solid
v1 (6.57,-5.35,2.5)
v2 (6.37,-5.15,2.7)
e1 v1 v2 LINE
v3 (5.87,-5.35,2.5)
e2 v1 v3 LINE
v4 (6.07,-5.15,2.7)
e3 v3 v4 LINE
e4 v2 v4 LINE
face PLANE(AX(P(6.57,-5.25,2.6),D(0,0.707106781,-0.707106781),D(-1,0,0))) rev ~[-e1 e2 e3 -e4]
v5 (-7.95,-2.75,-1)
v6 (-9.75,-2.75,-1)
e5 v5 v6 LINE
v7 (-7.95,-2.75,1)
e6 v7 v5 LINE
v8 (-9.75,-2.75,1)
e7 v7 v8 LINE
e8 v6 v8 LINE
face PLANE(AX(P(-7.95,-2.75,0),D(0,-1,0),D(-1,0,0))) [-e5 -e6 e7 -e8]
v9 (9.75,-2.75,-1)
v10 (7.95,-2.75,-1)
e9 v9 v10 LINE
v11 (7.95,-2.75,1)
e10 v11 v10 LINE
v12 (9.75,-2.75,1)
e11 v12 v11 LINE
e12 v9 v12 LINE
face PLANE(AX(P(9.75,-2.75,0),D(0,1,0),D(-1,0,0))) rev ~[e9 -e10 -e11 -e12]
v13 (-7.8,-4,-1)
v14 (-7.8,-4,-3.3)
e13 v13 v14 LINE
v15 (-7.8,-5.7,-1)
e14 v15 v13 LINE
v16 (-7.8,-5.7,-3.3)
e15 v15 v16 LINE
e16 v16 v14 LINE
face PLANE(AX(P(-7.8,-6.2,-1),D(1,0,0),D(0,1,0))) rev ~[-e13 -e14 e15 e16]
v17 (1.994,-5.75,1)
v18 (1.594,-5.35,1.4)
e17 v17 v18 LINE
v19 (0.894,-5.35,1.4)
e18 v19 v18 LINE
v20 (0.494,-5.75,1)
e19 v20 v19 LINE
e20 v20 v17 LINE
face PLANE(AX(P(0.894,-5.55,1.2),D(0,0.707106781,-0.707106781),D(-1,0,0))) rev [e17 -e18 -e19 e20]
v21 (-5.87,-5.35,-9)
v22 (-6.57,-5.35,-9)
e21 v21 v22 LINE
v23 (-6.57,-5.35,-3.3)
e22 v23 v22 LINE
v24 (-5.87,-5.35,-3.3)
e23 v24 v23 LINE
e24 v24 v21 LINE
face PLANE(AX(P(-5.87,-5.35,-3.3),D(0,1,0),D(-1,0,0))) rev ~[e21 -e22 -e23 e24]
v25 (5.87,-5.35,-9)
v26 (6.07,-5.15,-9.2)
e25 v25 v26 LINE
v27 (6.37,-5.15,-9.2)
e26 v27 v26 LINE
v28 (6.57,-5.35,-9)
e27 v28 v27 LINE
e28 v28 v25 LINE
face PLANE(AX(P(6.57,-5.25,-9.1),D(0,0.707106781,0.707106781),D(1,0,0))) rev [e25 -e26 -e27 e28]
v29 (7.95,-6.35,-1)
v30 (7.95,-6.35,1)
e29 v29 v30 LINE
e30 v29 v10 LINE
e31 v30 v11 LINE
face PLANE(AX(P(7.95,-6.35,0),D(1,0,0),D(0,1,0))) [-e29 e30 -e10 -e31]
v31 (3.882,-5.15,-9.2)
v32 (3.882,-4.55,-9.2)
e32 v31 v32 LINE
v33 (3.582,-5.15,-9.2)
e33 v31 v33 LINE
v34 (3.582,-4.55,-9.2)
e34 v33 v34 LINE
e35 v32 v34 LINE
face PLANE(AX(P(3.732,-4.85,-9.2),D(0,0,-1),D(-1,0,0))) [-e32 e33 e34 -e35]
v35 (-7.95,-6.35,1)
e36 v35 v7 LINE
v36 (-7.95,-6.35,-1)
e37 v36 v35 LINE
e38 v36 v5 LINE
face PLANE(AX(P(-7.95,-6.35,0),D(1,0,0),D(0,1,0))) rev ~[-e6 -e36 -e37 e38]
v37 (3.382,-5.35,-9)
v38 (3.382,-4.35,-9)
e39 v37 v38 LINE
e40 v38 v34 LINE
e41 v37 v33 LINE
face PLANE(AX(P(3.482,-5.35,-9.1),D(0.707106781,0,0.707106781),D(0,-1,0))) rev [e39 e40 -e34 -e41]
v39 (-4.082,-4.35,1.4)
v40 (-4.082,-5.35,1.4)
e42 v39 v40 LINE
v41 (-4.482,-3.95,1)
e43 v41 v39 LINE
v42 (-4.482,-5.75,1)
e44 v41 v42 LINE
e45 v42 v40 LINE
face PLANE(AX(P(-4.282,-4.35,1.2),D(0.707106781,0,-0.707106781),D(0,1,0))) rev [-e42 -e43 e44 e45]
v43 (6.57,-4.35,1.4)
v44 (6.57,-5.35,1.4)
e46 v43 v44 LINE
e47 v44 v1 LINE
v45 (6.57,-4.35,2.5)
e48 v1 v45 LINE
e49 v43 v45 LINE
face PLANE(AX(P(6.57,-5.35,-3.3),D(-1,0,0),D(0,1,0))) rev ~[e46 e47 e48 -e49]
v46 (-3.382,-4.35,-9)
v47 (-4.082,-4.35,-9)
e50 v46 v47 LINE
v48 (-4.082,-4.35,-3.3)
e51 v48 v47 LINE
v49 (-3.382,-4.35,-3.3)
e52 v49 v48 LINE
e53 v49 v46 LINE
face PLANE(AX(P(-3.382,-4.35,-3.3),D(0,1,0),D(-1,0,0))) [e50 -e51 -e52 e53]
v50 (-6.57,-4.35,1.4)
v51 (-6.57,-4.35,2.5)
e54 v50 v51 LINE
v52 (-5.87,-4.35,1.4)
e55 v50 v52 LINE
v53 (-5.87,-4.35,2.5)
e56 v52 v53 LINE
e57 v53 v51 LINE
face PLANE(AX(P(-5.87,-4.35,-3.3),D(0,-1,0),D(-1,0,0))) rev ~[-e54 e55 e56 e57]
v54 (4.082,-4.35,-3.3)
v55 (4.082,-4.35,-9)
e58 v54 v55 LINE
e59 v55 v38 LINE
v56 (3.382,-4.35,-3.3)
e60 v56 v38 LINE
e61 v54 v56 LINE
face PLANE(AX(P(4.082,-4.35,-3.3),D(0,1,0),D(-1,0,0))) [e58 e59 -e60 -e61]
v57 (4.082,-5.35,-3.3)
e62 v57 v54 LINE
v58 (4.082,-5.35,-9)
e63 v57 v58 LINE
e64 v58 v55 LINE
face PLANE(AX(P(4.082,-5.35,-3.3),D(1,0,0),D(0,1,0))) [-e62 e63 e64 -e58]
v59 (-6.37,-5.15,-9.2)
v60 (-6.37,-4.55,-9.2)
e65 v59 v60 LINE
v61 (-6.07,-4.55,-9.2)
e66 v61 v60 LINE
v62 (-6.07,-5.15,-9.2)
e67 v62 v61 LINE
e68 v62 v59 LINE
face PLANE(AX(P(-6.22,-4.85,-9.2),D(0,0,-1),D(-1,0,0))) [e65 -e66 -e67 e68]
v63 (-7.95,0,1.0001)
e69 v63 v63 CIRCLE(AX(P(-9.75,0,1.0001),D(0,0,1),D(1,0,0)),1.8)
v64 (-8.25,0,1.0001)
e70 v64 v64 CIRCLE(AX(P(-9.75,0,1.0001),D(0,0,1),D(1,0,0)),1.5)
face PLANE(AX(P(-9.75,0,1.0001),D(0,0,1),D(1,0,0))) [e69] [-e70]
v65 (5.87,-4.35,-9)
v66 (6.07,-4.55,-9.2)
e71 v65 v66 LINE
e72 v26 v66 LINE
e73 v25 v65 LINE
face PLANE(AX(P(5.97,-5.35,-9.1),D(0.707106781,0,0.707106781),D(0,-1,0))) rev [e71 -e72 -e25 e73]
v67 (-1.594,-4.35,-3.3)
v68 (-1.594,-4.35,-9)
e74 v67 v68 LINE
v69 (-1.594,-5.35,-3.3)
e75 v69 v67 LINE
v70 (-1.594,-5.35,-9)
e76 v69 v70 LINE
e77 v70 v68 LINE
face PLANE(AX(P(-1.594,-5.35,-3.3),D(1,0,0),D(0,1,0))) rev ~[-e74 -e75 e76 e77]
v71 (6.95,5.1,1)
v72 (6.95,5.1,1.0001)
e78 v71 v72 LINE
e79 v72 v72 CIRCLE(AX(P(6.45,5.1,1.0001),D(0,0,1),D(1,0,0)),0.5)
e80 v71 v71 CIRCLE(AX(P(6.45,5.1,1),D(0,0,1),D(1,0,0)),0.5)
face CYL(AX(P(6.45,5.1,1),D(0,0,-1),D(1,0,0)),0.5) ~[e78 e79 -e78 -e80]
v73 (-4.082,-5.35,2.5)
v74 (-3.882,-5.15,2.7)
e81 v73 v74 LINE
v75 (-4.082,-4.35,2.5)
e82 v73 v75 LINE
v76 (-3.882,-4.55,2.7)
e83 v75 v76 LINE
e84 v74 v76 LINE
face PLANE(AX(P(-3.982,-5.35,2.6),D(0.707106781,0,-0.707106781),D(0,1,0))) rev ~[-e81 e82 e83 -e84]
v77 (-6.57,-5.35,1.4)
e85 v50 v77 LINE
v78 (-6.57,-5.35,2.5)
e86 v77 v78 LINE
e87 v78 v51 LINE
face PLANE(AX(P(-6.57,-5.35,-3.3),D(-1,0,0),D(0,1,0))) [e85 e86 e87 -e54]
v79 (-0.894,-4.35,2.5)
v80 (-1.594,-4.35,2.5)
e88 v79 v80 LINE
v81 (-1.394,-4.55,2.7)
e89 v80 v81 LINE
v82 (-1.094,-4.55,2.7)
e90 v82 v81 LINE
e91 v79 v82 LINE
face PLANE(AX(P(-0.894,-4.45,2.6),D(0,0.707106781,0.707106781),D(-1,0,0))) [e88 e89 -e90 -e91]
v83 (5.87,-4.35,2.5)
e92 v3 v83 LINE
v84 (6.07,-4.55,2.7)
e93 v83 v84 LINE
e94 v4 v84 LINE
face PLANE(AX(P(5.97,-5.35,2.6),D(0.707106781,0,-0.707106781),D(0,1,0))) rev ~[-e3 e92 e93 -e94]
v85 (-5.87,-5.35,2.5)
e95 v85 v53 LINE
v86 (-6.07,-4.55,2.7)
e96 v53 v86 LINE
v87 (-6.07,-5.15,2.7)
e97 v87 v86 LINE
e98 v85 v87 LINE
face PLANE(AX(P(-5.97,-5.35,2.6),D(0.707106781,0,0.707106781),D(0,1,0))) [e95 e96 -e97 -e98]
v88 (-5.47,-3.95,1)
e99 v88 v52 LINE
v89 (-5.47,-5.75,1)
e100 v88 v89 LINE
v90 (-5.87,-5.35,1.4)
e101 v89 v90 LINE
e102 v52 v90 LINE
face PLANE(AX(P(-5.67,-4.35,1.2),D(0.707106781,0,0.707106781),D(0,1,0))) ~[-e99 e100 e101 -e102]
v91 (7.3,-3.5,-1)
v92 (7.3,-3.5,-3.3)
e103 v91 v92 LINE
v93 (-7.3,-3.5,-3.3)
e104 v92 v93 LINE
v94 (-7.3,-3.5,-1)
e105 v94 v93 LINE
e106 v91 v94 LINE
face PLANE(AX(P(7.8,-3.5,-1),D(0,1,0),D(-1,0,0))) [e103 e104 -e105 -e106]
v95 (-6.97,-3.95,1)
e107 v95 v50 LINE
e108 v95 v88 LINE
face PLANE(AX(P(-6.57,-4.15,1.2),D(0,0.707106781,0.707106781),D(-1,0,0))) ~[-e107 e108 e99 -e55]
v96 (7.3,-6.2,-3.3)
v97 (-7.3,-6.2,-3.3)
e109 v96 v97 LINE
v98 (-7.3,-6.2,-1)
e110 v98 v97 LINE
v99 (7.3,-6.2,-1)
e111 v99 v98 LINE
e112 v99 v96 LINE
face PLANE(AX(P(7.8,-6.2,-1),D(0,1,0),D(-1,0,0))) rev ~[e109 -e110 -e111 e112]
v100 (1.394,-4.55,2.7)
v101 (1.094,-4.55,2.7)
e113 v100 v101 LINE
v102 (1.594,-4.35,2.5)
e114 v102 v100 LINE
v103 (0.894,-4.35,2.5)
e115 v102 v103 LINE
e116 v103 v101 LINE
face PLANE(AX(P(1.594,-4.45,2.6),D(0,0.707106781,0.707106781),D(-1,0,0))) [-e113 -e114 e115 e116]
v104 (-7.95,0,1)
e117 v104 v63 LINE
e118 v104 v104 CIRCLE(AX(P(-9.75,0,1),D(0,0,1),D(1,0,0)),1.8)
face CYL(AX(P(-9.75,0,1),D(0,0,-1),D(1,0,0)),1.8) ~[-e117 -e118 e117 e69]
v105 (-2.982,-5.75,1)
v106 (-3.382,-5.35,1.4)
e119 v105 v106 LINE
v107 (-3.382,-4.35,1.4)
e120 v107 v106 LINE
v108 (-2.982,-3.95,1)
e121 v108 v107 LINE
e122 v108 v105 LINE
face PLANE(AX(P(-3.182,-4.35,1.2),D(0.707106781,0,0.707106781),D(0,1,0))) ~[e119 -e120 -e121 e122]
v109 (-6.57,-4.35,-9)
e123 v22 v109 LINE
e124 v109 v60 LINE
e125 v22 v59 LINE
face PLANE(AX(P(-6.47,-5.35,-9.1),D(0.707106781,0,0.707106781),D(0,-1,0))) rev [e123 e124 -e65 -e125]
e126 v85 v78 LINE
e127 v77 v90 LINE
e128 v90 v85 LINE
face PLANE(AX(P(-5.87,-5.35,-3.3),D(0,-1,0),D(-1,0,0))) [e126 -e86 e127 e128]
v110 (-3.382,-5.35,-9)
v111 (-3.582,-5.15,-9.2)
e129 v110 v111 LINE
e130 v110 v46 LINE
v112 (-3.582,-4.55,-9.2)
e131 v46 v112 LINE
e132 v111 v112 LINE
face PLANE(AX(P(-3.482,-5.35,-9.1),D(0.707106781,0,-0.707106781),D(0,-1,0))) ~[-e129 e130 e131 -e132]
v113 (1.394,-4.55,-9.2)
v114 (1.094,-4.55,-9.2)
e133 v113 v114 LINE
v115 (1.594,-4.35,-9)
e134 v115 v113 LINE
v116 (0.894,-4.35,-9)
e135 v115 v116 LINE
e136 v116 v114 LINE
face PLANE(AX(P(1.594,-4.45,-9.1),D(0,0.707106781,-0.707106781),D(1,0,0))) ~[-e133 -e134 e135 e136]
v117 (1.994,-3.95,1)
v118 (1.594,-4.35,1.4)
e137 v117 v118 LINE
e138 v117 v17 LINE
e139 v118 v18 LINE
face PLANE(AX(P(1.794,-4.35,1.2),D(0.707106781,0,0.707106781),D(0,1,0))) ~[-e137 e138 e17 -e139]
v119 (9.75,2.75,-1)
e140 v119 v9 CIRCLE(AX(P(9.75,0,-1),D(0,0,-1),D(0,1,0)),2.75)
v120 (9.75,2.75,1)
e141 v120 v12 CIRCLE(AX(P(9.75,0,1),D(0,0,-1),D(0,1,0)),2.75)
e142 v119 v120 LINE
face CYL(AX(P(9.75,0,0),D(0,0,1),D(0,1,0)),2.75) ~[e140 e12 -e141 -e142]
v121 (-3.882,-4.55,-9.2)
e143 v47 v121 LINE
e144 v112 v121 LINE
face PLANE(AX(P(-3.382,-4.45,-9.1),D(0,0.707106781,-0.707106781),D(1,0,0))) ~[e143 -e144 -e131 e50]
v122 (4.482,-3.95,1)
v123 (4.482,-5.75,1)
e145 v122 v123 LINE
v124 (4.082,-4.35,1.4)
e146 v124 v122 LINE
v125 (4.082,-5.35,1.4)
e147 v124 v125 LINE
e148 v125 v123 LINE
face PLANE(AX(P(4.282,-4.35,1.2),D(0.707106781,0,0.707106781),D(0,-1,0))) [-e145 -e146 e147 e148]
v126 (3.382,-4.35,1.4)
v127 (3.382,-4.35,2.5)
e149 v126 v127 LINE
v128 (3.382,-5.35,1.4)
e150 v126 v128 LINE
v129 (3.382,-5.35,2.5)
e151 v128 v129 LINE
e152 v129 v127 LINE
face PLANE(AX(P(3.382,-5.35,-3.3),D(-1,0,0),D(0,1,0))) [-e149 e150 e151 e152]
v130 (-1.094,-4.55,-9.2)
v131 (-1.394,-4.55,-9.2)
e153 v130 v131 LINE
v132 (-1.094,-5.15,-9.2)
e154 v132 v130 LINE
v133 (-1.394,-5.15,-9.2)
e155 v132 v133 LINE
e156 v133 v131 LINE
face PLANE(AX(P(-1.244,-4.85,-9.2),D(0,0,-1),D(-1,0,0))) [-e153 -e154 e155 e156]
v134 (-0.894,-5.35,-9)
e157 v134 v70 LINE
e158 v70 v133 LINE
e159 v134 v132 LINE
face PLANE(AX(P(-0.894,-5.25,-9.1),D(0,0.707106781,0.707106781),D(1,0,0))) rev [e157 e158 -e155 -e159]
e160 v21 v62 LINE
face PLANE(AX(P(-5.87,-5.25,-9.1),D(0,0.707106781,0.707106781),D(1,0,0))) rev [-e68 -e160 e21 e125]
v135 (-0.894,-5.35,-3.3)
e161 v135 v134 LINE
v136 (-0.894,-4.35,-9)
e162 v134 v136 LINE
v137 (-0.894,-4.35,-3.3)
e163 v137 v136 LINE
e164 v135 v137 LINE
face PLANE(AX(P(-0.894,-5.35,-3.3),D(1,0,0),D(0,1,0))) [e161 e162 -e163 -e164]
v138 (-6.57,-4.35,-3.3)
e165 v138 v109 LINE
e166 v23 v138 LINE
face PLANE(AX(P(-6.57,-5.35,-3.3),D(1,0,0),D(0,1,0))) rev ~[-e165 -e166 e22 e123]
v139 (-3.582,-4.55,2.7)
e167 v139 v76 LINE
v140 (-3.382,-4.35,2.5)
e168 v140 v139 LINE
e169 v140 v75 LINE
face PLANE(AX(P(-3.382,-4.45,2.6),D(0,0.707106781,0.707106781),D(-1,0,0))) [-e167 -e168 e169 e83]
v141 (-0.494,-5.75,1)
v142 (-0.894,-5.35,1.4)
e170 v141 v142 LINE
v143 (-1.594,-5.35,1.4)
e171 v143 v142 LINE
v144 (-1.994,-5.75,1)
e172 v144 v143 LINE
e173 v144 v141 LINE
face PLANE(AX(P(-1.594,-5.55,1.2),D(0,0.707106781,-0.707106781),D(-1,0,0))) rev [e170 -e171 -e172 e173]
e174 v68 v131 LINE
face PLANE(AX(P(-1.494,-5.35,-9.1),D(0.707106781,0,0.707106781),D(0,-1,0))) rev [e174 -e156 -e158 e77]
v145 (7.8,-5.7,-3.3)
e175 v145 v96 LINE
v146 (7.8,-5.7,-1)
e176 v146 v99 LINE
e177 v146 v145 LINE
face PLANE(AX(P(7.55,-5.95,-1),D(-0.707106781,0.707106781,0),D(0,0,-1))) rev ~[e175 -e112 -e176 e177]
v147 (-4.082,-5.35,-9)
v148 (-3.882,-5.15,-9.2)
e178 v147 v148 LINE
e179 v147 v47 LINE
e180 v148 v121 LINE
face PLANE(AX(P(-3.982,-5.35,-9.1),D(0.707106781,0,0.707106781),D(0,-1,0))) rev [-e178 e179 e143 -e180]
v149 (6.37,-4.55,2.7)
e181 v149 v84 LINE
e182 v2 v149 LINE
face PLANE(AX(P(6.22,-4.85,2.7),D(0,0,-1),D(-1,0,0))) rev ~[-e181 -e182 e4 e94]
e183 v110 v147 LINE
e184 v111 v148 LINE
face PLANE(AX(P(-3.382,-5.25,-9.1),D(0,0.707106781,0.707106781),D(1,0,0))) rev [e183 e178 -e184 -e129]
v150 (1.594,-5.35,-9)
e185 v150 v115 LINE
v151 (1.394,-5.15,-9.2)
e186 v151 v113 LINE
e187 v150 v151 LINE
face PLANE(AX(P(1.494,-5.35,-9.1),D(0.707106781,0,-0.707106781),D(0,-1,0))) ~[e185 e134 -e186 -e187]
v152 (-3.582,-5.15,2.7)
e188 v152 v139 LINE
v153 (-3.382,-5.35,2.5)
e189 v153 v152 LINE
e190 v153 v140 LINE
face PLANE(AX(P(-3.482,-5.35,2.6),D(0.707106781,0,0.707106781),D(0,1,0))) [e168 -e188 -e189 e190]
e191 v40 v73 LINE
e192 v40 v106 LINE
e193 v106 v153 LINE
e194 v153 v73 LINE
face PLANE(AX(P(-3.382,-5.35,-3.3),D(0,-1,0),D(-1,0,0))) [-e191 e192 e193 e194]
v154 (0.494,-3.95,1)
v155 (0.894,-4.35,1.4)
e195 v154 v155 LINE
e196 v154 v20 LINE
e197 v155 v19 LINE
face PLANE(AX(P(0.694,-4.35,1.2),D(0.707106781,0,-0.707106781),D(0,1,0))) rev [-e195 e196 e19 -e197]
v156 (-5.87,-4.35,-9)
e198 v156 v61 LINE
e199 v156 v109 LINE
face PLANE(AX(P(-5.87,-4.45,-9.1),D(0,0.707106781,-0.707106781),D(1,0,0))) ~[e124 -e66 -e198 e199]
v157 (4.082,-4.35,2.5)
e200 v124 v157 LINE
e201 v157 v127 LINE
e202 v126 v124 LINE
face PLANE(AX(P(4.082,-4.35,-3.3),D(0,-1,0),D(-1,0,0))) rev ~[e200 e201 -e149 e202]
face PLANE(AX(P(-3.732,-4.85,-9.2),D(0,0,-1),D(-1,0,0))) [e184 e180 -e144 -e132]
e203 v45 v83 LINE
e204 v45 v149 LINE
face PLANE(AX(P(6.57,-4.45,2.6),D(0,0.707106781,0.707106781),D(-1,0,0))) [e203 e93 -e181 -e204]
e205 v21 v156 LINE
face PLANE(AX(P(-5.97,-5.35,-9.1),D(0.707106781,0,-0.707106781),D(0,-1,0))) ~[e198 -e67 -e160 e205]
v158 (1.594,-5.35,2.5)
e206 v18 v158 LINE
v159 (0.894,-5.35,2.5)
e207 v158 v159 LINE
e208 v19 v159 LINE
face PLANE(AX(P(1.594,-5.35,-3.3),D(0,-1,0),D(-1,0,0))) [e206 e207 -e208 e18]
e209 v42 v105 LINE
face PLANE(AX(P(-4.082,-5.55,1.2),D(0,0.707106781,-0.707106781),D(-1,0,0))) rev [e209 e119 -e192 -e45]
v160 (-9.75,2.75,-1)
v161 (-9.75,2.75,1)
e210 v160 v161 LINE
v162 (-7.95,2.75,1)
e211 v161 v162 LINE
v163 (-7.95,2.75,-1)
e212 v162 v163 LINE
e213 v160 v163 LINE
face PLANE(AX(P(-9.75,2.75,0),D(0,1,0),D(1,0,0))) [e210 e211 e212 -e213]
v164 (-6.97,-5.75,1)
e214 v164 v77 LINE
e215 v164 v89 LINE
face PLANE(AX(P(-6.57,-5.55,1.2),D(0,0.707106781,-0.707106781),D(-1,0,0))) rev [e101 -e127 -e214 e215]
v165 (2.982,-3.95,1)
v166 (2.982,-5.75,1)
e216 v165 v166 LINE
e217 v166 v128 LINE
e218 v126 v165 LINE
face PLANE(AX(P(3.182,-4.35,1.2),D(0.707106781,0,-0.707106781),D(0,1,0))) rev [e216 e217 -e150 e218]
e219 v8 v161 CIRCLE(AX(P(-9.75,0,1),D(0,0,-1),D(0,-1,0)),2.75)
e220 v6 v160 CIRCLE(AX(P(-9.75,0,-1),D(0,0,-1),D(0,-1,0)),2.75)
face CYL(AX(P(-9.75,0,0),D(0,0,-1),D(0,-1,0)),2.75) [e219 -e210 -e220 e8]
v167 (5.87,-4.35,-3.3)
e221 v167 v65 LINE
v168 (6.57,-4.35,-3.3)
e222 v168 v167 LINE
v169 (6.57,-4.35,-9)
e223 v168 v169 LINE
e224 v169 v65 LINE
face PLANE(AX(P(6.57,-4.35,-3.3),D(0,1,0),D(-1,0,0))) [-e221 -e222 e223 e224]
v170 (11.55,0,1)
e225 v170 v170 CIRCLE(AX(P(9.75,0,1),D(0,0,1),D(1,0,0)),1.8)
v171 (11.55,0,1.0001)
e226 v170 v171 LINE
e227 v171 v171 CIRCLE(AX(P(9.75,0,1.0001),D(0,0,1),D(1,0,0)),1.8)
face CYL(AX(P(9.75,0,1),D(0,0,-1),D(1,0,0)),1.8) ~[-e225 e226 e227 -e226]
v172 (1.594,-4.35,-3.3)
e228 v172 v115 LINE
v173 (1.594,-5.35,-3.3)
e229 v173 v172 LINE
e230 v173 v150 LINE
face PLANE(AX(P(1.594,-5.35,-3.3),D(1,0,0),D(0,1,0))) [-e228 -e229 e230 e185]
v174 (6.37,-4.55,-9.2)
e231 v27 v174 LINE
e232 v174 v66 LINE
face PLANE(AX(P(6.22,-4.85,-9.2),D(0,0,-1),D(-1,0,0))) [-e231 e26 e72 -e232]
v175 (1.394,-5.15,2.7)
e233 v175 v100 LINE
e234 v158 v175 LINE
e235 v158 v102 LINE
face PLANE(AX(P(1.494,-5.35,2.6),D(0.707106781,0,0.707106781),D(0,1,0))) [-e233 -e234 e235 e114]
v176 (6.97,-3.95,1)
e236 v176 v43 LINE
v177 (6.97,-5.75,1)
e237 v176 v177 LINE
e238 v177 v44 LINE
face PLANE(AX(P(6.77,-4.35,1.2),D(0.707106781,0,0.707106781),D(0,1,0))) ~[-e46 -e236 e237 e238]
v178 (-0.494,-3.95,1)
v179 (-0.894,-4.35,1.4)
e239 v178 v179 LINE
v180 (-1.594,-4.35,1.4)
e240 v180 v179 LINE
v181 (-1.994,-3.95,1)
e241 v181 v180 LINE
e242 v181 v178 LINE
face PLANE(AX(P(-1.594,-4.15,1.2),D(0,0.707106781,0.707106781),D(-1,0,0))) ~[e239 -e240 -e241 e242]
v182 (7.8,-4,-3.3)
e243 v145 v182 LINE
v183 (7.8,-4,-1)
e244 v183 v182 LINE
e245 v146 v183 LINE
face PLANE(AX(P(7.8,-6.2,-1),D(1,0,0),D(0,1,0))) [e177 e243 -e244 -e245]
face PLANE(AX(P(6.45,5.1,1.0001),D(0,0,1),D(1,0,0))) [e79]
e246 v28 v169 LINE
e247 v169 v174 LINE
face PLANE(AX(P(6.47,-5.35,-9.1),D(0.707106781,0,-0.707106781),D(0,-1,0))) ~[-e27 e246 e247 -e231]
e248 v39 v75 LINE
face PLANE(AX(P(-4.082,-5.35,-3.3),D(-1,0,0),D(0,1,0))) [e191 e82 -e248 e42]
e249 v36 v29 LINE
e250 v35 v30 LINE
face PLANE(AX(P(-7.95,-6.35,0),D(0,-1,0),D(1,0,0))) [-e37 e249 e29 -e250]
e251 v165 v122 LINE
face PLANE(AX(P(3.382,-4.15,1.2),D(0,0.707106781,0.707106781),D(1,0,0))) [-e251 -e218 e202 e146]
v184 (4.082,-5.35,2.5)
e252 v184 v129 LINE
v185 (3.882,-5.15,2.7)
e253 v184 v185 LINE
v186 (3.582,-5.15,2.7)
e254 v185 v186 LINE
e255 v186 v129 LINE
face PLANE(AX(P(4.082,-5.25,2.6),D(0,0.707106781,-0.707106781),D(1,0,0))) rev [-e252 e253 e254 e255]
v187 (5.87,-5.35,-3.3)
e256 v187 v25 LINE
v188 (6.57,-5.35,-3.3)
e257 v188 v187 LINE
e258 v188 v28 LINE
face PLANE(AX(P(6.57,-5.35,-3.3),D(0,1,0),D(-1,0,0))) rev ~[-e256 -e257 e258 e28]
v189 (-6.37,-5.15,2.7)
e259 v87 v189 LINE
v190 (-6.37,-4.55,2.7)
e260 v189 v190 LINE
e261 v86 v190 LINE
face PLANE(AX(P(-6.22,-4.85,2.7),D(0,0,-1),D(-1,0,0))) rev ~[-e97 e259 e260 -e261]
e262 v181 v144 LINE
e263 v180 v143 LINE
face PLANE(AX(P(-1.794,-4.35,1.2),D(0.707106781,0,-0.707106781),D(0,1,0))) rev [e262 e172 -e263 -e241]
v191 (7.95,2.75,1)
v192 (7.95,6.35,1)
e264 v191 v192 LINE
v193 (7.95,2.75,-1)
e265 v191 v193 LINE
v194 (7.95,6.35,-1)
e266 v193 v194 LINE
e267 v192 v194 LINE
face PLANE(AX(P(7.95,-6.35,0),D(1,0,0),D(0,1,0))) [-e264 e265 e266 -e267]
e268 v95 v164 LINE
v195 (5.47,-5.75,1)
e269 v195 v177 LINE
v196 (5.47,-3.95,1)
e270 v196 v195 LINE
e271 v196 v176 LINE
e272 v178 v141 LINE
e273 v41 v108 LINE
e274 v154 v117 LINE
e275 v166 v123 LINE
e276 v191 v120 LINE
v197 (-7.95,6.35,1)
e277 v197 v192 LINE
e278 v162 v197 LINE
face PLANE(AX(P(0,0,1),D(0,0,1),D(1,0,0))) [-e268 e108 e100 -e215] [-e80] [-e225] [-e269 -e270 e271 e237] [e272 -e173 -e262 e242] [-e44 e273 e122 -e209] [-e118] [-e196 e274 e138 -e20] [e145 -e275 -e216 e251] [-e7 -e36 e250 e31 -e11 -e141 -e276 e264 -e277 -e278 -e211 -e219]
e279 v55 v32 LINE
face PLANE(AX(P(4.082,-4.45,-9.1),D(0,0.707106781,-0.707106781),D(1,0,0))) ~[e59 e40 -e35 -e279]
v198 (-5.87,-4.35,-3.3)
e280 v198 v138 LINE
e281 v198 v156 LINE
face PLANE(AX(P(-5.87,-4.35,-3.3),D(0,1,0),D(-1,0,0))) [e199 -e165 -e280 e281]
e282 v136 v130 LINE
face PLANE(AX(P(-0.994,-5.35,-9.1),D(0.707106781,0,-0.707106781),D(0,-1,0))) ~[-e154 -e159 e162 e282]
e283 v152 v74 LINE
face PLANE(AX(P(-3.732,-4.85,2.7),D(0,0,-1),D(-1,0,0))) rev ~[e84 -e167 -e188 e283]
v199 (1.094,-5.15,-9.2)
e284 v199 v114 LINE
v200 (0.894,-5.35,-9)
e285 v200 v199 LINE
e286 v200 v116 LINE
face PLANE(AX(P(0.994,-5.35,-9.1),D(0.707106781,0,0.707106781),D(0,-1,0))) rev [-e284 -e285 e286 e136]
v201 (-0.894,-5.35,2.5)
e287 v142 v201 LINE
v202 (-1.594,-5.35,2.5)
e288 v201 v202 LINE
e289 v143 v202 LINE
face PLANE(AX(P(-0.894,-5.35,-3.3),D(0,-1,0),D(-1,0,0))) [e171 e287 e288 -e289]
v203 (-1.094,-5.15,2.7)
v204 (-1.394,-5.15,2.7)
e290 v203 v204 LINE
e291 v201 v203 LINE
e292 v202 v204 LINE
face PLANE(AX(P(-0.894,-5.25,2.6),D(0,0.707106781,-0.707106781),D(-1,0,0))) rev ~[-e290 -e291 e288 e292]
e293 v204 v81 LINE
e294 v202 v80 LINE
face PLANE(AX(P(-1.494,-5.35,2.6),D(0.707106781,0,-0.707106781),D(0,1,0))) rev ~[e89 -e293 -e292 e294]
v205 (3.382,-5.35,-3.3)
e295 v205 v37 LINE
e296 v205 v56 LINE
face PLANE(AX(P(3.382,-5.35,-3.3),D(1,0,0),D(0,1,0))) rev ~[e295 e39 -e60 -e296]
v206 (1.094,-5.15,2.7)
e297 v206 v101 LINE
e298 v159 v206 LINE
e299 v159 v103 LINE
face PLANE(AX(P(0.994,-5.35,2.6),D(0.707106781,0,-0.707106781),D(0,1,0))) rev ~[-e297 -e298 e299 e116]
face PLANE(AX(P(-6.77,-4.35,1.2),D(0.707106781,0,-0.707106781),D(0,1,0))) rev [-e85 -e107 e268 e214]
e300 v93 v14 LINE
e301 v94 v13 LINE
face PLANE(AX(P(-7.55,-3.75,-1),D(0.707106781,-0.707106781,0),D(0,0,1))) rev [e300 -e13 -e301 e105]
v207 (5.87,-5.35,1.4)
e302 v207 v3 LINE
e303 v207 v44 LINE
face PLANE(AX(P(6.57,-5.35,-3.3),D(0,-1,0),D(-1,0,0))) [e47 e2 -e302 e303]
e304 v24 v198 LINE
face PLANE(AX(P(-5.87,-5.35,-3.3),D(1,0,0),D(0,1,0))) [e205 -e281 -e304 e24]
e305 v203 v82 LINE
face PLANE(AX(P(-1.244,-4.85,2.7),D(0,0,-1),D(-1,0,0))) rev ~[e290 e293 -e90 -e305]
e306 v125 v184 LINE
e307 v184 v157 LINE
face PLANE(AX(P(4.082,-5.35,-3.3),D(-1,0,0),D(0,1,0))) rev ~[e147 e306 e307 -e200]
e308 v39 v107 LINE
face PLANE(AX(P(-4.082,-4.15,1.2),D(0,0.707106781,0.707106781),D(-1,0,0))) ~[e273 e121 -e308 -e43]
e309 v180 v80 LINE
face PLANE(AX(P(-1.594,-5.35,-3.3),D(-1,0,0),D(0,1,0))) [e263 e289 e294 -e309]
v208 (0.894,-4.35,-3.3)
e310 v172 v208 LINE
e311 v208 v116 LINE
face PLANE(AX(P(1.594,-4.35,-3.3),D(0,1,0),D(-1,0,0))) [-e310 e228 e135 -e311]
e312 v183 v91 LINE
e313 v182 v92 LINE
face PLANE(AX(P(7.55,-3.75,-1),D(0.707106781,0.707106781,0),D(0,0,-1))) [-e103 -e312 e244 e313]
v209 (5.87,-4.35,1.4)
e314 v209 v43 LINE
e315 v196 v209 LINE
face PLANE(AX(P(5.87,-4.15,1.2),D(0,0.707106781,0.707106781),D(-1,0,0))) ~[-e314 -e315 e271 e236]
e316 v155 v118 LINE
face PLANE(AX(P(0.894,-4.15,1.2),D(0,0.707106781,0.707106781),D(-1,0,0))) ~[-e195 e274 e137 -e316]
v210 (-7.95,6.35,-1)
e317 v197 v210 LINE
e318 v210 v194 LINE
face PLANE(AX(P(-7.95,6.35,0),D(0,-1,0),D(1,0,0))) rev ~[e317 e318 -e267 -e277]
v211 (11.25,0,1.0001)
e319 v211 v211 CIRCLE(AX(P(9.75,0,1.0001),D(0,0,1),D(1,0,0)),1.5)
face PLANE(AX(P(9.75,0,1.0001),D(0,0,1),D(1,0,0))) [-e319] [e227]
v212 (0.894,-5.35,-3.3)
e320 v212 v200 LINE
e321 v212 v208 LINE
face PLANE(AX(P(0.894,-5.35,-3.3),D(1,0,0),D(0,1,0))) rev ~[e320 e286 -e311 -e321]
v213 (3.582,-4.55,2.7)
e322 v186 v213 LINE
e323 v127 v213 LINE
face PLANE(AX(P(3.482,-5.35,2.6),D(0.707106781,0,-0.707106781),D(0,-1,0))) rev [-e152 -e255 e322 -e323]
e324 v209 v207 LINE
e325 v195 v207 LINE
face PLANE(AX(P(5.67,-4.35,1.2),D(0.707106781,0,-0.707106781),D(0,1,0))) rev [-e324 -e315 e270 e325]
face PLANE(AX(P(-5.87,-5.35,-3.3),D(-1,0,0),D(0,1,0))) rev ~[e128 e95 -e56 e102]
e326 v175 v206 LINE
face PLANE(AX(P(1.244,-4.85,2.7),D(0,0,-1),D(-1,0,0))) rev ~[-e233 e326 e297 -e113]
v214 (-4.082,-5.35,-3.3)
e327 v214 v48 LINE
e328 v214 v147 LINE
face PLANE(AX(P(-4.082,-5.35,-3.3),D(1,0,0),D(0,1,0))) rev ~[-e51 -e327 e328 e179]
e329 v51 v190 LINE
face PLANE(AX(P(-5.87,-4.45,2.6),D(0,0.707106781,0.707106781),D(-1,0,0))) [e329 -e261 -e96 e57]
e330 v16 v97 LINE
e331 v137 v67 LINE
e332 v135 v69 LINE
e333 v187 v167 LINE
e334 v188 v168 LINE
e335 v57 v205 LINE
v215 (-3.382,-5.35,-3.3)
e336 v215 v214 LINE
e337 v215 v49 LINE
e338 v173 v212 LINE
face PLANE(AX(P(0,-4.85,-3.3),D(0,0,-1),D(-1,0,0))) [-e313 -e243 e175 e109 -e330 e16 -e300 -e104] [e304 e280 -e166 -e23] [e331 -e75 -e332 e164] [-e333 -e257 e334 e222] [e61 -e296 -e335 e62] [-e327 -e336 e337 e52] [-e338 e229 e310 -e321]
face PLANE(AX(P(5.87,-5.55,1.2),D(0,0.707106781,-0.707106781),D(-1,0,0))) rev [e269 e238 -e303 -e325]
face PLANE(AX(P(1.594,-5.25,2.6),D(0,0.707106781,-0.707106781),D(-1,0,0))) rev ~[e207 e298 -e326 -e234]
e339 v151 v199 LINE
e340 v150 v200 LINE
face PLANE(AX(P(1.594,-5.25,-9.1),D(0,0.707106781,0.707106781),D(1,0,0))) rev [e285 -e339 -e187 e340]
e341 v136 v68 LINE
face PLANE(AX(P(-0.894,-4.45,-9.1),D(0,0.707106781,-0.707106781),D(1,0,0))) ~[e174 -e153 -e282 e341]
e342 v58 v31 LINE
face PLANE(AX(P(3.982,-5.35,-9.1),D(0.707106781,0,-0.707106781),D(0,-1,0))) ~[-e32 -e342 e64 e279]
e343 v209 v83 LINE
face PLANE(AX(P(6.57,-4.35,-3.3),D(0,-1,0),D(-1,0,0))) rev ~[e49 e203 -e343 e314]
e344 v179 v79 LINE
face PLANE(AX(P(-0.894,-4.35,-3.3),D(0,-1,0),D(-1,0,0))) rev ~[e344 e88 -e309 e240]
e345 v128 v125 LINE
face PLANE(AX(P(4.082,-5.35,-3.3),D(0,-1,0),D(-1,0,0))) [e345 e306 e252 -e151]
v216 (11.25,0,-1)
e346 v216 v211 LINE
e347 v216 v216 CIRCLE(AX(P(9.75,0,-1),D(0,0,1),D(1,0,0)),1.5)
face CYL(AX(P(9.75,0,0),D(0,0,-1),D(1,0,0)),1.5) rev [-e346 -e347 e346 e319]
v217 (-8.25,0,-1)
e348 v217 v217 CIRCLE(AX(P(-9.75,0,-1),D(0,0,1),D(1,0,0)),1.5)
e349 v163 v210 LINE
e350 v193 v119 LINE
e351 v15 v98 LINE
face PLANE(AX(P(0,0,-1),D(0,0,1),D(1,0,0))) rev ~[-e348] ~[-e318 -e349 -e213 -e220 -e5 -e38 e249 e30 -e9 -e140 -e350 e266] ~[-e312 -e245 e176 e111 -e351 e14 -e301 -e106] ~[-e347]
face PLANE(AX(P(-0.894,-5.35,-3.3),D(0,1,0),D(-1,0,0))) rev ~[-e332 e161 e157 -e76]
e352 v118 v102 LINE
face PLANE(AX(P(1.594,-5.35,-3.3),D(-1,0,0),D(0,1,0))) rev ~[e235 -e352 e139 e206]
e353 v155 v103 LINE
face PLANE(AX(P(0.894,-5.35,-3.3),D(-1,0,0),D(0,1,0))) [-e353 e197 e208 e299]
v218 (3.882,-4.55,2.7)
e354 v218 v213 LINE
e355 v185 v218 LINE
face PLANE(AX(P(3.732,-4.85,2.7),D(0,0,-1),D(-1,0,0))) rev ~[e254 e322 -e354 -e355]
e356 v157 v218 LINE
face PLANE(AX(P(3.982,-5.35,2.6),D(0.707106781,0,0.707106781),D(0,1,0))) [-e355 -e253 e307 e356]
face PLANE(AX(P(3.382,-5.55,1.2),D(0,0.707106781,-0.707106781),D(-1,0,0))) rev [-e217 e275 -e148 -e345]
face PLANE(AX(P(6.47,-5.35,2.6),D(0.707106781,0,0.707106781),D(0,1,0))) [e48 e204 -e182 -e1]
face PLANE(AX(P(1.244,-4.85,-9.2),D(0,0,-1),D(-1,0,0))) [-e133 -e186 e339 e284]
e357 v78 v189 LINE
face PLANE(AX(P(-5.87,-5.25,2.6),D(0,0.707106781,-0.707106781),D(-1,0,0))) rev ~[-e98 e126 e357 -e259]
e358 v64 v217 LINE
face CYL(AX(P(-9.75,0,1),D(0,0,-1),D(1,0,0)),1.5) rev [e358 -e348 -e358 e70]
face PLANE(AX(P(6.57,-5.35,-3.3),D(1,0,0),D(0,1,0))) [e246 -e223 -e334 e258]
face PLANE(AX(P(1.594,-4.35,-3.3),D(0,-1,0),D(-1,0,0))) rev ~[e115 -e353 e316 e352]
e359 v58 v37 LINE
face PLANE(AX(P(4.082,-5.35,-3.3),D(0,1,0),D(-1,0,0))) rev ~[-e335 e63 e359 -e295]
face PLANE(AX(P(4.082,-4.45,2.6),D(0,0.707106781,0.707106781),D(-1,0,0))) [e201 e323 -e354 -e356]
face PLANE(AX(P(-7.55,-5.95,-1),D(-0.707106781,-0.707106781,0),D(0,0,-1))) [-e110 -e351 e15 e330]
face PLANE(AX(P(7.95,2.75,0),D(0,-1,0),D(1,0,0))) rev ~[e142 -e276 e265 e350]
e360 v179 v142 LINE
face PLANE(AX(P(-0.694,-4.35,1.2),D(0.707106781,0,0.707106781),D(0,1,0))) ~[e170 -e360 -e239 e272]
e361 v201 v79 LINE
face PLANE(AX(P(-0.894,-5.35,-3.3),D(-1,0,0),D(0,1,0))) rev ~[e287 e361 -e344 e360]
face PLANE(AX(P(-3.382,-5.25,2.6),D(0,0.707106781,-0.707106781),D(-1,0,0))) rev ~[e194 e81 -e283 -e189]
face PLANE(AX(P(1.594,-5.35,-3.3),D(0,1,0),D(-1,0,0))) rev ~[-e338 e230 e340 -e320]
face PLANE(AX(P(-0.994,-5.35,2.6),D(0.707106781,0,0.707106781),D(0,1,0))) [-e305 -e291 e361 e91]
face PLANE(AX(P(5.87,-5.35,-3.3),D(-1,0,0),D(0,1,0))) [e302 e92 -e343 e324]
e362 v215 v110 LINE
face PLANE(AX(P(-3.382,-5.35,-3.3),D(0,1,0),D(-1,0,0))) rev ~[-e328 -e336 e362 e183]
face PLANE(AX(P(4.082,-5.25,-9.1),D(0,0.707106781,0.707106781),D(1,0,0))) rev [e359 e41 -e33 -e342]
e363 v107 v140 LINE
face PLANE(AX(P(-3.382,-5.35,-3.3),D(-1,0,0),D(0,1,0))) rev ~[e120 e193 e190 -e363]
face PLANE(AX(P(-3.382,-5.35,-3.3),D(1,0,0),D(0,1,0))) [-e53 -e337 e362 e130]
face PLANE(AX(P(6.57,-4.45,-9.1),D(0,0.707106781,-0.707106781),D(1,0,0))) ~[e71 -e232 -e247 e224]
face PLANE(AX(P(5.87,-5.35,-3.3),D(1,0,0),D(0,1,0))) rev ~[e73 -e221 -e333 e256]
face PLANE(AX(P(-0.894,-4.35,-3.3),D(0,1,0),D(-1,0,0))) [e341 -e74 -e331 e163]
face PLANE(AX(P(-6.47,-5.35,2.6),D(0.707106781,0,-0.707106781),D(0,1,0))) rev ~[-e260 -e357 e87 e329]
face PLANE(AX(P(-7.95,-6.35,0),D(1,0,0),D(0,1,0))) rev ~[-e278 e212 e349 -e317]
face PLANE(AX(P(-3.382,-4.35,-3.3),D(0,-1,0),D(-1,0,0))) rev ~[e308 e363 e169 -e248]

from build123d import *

# Parameters (mm, degrees)
SKETCH1_W                = 15.9
SKETCH1_H                = 12.7
BOSS_EXTRUDE1_DEPTH      = 1
SKETCH2_R                = 1.5
BOSS_EXTRUDE2_DEPTH      = 1
SKETCH3_W                = 15.6
SKETCH3_H                = 2.7
BOSS_EXTRUDE3_DEPTH      = 2.3
CHAMFER1_SIZE            = 0.5
SKETCH4_W                = 0.7
SKETCH4_H                = 1
BOSS_EXTRUDE4_DEPTH      = 5.9
BOSS_EXTRUDE4_DEPTH_BACK = 6
CHAMFER2_SIZE            = 0.2
CHAMFER3_SIZE            = 0.4
SKETCH5_R                = 1.8
SKETCH5_R_2              = 1.5
SKETCH5_R_3              = 0.5
BOSS_EXTRUDE5_DEPTH      = 0.0001


with BuildPart() as part:
    # Sketch1 → Boss-Extrude1 (new body, symmetric)
    with BuildSketch(Plane.XY):
        Rectangle(SKETCH1_W, SKETCH1_H)
    extrude(amount=BOSS_EXTRUDE1_DEPTH, both=True)

    # Sketch2 → Boss-Extrude2 (add, symmetric)
    with BuildSketch(Plane.XY):
        with BuildLine():
            Line((-9.75, 2.75), (-7.95, 2.75))
            Line((-7.95, 2.75), (-7.95, -2.75))
            Line((-7.95, -2.75), (-9.75, -2.75))
            ThreePointArc((-9.75, -2.75), (-12.5, 0), (-9.75, 2.75))
        make_face()
        with Locations((-9.75, 0)):
            Circle(SKETCH2_R, mode=Mode.SUBTRACT)
        with BuildLine():
            Line((9.75, -2.75), (7.95, -2.75))
            Line((7.95, -2.75), (7.95, 2.75))
            Line((7.95, 2.75), (9.75, 2.75))
            ThreePointArc((9.75, 2.75), (12.5, 0), (9.75, -2.75))
        make_face()
        with Locations((9.75, 0)):
            Circle(SKETCH2_R, mode=Mode.SUBTRACT)
    extrude(amount=BOSS_EXTRUDE2_DEPTH, both=True)

    # Sketch3 → Boss-Extrude3 (add)
    with BuildSketch(Plane(origin=(0, 0, -1), x_dir=(-1, 0, 0), z_dir=(0, 0, -1))):
        with Locations((0, -4.85)):
            Rectangle(SKETCH3_W, SKETCH3_H)
    extrude(amount=BOSS_EXTRUDE3_DEPTH)

    # Chamfer1
    chamfer1_edges = [part.edges().sort_by_distance(p)[0] for p in [
        (7.8, -3.5, -2.15),
        (7.8, -6.2, -2.15),
        (-7.8, -6.2, -2.15),
        (-7.8, -3.5, -2.15),
    ]]
    chamfer(chamfer1_edges, length=CHAMFER1_SIZE)

    # Sketch4 → Boss-Extrude4 (add, two sides)
    with BuildSketch(Plane(origin=(0, 0, -3.3), x_dir=(-1, 0, 0), z_dir=(0, 0, -1))) as boss_extrude4_sk:
        with Locations((-3.732, -4.85)):
            Rectangle(SKETCH4_W, SKETCH4_H)
        with Locations((-6.22, -4.85)):
            Rectangle(SKETCH4_W, SKETCH4_H)
        with Locations((-1.244, -4.85)):
            Rectangle(SKETCH4_W, SKETCH4_H)
        with Locations((1.244, -4.85)):
            Rectangle(SKETCH4_W, SKETCH4_H)
        with Locations((3.732, -4.85)):
            Rectangle(SKETCH4_W, SKETCH4_H)
        with Locations((6.22, -4.85)):
            Rectangle(SKETCH4_W, SKETCH4_H)
    extrude(amount=BOSS_EXTRUDE4_DEPTH)
    extrude(boss_extrude4_sk.sketch, amount=-BOSS_EXTRUDE4_DEPTH_BACK)

    # Chamfer2
    chamfer2_edges = [part.edges().sort_by_distance(p)[0] for p in [
        (4.082, -4.85, 2.7),
        (3.732, -4.35, 2.7),
        (3.382, -4.85, 2.7),
        (3.732, -5.35, 2.7),
        (4.082, -4.85, -9.2),
        (3.732, -5.35, -9.2),
        (3.382, -4.85, -9.2),
        (3.732, -4.35, -9.2),
        (1.594, -4.85, 2.7),
        (1.244, -4.35, 2.7),
        (0.894, -4.85, 2.7),
        (1.244, -5.35, 2.7),
        (1.594, -4.85, -9.2),
        (1.244, -5.35, -9.2),
        (0.894, -4.85, -9.2),
        (1.244, -4.35, -9.2),
        (-0.894, -4.85, 2.7),
        (-1.244, -4.35, 2.7),
        (-1.594, -4.85, 2.7),
        (-1.244, -5.35, 2.7),
        (-0.894, -4.85, -9.2),
        (-1.244, -5.35, -9.2),
        (-1.594, -4.85, -9.2),
        (-1.244, -4.35, -9.2),
        (-3.382, -4.85, 2.7),
        (-3.732, -4.35, 2.7),
        (-4.082, -4.85, 2.7),
        (-3.732, -5.35, 2.7),
        (-3.382, -4.85, -9.2),
        (-3.732, -5.35, -9.2),
        (-4.082, -4.85, -9.2),
        (-3.732, -4.35, -9.2),
        (-5.87, -4.85, 2.7),
        (-6.22, -4.35, 2.7),
        (-6.57, -4.85, 2.7),
        (-6.22, -5.35, 2.7),
        (-5.87, -4.85, -9.2),
        (-6.22, -5.35, -9.2),
        (-6.57, -4.85, -9.2),
        (-6.22, -4.35, -9.2),
        (6.57, -4.85, 2.7),
        (6.22, -4.35, 2.7),
        (5.87, -4.85, 2.7),
        (6.22, -5.35, 2.7),
        (6.57, -4.85, -9.2),
        (6.22, -5.35, -9.2),
        (5.87, -4.85, -9.2),
        (6.22, -4.35, -9.2),
    ]]
    chamfer(chamfer2_edges, length=CHAMFER2_SIZE)

    # Chamfer3
    chamfer3_edges = [part.edges().sort_by_distance(p)[0] for p in [
        (4.082, -4.85, 1),
        (3.732, -4.35, 1),
        (3.382, -4.85, 1),
        (3.732, -5.35, 1),
        (1.594, -4.85, 1),
        (1.244, -4.35, 1),
        (0.894, -4.85, 1),
        (1.244, -5.35, 1),
        (-0.894, -4.85, 1),
        (-1.244, -4.35, 1),
        (-1.594, -4.85, 1),
        (-1.244, -5.35, 1),
        (-3.382, -4.85, 1),
        (-3.732, -4.35, 1),
        (-4.082, -4.85, 1),
        (-3.732, -5.35, 1),
        (-5.87, -4.85, 1),
        (-6.22, -4.35, 1),
        (-6.57, -4.85, 1),
        (-6.22, -5.35, 1),
        (6.57, -4.85, 1),
        (6.22, -4.35, 1),
        (5.87, -4.85, 1),
        (6.22, -5.35, 1),
    ]]
    chamfer(chamfer3_edges, length=CHAMFER3_SIZE)

    # Sketch5 → Boss-Extrude5 (add)
    with BuildSketch(Plane.XY.offset(1)):
        with Locations((-9.75, 0)):
            Circle(SKETCH5_R)
        with Locations((-9.75, 0)):
            Circle(SKETCH5_R_2, mode=Mode.SUBTRACT)
        with Locations((9.75, 0)):
            Circle(SKETCH5_R)
        with Locations((9.75, 0)):
            Circle(SKETCH5_R_2, mode=Mode.SUBTRACT)
        with Locations((6.45, 5.1)):
            Circle(SKETCH5_R_3)
    extrude(amount=BOSS_EXTRUDE5_DEPTH)


solid = part.part
